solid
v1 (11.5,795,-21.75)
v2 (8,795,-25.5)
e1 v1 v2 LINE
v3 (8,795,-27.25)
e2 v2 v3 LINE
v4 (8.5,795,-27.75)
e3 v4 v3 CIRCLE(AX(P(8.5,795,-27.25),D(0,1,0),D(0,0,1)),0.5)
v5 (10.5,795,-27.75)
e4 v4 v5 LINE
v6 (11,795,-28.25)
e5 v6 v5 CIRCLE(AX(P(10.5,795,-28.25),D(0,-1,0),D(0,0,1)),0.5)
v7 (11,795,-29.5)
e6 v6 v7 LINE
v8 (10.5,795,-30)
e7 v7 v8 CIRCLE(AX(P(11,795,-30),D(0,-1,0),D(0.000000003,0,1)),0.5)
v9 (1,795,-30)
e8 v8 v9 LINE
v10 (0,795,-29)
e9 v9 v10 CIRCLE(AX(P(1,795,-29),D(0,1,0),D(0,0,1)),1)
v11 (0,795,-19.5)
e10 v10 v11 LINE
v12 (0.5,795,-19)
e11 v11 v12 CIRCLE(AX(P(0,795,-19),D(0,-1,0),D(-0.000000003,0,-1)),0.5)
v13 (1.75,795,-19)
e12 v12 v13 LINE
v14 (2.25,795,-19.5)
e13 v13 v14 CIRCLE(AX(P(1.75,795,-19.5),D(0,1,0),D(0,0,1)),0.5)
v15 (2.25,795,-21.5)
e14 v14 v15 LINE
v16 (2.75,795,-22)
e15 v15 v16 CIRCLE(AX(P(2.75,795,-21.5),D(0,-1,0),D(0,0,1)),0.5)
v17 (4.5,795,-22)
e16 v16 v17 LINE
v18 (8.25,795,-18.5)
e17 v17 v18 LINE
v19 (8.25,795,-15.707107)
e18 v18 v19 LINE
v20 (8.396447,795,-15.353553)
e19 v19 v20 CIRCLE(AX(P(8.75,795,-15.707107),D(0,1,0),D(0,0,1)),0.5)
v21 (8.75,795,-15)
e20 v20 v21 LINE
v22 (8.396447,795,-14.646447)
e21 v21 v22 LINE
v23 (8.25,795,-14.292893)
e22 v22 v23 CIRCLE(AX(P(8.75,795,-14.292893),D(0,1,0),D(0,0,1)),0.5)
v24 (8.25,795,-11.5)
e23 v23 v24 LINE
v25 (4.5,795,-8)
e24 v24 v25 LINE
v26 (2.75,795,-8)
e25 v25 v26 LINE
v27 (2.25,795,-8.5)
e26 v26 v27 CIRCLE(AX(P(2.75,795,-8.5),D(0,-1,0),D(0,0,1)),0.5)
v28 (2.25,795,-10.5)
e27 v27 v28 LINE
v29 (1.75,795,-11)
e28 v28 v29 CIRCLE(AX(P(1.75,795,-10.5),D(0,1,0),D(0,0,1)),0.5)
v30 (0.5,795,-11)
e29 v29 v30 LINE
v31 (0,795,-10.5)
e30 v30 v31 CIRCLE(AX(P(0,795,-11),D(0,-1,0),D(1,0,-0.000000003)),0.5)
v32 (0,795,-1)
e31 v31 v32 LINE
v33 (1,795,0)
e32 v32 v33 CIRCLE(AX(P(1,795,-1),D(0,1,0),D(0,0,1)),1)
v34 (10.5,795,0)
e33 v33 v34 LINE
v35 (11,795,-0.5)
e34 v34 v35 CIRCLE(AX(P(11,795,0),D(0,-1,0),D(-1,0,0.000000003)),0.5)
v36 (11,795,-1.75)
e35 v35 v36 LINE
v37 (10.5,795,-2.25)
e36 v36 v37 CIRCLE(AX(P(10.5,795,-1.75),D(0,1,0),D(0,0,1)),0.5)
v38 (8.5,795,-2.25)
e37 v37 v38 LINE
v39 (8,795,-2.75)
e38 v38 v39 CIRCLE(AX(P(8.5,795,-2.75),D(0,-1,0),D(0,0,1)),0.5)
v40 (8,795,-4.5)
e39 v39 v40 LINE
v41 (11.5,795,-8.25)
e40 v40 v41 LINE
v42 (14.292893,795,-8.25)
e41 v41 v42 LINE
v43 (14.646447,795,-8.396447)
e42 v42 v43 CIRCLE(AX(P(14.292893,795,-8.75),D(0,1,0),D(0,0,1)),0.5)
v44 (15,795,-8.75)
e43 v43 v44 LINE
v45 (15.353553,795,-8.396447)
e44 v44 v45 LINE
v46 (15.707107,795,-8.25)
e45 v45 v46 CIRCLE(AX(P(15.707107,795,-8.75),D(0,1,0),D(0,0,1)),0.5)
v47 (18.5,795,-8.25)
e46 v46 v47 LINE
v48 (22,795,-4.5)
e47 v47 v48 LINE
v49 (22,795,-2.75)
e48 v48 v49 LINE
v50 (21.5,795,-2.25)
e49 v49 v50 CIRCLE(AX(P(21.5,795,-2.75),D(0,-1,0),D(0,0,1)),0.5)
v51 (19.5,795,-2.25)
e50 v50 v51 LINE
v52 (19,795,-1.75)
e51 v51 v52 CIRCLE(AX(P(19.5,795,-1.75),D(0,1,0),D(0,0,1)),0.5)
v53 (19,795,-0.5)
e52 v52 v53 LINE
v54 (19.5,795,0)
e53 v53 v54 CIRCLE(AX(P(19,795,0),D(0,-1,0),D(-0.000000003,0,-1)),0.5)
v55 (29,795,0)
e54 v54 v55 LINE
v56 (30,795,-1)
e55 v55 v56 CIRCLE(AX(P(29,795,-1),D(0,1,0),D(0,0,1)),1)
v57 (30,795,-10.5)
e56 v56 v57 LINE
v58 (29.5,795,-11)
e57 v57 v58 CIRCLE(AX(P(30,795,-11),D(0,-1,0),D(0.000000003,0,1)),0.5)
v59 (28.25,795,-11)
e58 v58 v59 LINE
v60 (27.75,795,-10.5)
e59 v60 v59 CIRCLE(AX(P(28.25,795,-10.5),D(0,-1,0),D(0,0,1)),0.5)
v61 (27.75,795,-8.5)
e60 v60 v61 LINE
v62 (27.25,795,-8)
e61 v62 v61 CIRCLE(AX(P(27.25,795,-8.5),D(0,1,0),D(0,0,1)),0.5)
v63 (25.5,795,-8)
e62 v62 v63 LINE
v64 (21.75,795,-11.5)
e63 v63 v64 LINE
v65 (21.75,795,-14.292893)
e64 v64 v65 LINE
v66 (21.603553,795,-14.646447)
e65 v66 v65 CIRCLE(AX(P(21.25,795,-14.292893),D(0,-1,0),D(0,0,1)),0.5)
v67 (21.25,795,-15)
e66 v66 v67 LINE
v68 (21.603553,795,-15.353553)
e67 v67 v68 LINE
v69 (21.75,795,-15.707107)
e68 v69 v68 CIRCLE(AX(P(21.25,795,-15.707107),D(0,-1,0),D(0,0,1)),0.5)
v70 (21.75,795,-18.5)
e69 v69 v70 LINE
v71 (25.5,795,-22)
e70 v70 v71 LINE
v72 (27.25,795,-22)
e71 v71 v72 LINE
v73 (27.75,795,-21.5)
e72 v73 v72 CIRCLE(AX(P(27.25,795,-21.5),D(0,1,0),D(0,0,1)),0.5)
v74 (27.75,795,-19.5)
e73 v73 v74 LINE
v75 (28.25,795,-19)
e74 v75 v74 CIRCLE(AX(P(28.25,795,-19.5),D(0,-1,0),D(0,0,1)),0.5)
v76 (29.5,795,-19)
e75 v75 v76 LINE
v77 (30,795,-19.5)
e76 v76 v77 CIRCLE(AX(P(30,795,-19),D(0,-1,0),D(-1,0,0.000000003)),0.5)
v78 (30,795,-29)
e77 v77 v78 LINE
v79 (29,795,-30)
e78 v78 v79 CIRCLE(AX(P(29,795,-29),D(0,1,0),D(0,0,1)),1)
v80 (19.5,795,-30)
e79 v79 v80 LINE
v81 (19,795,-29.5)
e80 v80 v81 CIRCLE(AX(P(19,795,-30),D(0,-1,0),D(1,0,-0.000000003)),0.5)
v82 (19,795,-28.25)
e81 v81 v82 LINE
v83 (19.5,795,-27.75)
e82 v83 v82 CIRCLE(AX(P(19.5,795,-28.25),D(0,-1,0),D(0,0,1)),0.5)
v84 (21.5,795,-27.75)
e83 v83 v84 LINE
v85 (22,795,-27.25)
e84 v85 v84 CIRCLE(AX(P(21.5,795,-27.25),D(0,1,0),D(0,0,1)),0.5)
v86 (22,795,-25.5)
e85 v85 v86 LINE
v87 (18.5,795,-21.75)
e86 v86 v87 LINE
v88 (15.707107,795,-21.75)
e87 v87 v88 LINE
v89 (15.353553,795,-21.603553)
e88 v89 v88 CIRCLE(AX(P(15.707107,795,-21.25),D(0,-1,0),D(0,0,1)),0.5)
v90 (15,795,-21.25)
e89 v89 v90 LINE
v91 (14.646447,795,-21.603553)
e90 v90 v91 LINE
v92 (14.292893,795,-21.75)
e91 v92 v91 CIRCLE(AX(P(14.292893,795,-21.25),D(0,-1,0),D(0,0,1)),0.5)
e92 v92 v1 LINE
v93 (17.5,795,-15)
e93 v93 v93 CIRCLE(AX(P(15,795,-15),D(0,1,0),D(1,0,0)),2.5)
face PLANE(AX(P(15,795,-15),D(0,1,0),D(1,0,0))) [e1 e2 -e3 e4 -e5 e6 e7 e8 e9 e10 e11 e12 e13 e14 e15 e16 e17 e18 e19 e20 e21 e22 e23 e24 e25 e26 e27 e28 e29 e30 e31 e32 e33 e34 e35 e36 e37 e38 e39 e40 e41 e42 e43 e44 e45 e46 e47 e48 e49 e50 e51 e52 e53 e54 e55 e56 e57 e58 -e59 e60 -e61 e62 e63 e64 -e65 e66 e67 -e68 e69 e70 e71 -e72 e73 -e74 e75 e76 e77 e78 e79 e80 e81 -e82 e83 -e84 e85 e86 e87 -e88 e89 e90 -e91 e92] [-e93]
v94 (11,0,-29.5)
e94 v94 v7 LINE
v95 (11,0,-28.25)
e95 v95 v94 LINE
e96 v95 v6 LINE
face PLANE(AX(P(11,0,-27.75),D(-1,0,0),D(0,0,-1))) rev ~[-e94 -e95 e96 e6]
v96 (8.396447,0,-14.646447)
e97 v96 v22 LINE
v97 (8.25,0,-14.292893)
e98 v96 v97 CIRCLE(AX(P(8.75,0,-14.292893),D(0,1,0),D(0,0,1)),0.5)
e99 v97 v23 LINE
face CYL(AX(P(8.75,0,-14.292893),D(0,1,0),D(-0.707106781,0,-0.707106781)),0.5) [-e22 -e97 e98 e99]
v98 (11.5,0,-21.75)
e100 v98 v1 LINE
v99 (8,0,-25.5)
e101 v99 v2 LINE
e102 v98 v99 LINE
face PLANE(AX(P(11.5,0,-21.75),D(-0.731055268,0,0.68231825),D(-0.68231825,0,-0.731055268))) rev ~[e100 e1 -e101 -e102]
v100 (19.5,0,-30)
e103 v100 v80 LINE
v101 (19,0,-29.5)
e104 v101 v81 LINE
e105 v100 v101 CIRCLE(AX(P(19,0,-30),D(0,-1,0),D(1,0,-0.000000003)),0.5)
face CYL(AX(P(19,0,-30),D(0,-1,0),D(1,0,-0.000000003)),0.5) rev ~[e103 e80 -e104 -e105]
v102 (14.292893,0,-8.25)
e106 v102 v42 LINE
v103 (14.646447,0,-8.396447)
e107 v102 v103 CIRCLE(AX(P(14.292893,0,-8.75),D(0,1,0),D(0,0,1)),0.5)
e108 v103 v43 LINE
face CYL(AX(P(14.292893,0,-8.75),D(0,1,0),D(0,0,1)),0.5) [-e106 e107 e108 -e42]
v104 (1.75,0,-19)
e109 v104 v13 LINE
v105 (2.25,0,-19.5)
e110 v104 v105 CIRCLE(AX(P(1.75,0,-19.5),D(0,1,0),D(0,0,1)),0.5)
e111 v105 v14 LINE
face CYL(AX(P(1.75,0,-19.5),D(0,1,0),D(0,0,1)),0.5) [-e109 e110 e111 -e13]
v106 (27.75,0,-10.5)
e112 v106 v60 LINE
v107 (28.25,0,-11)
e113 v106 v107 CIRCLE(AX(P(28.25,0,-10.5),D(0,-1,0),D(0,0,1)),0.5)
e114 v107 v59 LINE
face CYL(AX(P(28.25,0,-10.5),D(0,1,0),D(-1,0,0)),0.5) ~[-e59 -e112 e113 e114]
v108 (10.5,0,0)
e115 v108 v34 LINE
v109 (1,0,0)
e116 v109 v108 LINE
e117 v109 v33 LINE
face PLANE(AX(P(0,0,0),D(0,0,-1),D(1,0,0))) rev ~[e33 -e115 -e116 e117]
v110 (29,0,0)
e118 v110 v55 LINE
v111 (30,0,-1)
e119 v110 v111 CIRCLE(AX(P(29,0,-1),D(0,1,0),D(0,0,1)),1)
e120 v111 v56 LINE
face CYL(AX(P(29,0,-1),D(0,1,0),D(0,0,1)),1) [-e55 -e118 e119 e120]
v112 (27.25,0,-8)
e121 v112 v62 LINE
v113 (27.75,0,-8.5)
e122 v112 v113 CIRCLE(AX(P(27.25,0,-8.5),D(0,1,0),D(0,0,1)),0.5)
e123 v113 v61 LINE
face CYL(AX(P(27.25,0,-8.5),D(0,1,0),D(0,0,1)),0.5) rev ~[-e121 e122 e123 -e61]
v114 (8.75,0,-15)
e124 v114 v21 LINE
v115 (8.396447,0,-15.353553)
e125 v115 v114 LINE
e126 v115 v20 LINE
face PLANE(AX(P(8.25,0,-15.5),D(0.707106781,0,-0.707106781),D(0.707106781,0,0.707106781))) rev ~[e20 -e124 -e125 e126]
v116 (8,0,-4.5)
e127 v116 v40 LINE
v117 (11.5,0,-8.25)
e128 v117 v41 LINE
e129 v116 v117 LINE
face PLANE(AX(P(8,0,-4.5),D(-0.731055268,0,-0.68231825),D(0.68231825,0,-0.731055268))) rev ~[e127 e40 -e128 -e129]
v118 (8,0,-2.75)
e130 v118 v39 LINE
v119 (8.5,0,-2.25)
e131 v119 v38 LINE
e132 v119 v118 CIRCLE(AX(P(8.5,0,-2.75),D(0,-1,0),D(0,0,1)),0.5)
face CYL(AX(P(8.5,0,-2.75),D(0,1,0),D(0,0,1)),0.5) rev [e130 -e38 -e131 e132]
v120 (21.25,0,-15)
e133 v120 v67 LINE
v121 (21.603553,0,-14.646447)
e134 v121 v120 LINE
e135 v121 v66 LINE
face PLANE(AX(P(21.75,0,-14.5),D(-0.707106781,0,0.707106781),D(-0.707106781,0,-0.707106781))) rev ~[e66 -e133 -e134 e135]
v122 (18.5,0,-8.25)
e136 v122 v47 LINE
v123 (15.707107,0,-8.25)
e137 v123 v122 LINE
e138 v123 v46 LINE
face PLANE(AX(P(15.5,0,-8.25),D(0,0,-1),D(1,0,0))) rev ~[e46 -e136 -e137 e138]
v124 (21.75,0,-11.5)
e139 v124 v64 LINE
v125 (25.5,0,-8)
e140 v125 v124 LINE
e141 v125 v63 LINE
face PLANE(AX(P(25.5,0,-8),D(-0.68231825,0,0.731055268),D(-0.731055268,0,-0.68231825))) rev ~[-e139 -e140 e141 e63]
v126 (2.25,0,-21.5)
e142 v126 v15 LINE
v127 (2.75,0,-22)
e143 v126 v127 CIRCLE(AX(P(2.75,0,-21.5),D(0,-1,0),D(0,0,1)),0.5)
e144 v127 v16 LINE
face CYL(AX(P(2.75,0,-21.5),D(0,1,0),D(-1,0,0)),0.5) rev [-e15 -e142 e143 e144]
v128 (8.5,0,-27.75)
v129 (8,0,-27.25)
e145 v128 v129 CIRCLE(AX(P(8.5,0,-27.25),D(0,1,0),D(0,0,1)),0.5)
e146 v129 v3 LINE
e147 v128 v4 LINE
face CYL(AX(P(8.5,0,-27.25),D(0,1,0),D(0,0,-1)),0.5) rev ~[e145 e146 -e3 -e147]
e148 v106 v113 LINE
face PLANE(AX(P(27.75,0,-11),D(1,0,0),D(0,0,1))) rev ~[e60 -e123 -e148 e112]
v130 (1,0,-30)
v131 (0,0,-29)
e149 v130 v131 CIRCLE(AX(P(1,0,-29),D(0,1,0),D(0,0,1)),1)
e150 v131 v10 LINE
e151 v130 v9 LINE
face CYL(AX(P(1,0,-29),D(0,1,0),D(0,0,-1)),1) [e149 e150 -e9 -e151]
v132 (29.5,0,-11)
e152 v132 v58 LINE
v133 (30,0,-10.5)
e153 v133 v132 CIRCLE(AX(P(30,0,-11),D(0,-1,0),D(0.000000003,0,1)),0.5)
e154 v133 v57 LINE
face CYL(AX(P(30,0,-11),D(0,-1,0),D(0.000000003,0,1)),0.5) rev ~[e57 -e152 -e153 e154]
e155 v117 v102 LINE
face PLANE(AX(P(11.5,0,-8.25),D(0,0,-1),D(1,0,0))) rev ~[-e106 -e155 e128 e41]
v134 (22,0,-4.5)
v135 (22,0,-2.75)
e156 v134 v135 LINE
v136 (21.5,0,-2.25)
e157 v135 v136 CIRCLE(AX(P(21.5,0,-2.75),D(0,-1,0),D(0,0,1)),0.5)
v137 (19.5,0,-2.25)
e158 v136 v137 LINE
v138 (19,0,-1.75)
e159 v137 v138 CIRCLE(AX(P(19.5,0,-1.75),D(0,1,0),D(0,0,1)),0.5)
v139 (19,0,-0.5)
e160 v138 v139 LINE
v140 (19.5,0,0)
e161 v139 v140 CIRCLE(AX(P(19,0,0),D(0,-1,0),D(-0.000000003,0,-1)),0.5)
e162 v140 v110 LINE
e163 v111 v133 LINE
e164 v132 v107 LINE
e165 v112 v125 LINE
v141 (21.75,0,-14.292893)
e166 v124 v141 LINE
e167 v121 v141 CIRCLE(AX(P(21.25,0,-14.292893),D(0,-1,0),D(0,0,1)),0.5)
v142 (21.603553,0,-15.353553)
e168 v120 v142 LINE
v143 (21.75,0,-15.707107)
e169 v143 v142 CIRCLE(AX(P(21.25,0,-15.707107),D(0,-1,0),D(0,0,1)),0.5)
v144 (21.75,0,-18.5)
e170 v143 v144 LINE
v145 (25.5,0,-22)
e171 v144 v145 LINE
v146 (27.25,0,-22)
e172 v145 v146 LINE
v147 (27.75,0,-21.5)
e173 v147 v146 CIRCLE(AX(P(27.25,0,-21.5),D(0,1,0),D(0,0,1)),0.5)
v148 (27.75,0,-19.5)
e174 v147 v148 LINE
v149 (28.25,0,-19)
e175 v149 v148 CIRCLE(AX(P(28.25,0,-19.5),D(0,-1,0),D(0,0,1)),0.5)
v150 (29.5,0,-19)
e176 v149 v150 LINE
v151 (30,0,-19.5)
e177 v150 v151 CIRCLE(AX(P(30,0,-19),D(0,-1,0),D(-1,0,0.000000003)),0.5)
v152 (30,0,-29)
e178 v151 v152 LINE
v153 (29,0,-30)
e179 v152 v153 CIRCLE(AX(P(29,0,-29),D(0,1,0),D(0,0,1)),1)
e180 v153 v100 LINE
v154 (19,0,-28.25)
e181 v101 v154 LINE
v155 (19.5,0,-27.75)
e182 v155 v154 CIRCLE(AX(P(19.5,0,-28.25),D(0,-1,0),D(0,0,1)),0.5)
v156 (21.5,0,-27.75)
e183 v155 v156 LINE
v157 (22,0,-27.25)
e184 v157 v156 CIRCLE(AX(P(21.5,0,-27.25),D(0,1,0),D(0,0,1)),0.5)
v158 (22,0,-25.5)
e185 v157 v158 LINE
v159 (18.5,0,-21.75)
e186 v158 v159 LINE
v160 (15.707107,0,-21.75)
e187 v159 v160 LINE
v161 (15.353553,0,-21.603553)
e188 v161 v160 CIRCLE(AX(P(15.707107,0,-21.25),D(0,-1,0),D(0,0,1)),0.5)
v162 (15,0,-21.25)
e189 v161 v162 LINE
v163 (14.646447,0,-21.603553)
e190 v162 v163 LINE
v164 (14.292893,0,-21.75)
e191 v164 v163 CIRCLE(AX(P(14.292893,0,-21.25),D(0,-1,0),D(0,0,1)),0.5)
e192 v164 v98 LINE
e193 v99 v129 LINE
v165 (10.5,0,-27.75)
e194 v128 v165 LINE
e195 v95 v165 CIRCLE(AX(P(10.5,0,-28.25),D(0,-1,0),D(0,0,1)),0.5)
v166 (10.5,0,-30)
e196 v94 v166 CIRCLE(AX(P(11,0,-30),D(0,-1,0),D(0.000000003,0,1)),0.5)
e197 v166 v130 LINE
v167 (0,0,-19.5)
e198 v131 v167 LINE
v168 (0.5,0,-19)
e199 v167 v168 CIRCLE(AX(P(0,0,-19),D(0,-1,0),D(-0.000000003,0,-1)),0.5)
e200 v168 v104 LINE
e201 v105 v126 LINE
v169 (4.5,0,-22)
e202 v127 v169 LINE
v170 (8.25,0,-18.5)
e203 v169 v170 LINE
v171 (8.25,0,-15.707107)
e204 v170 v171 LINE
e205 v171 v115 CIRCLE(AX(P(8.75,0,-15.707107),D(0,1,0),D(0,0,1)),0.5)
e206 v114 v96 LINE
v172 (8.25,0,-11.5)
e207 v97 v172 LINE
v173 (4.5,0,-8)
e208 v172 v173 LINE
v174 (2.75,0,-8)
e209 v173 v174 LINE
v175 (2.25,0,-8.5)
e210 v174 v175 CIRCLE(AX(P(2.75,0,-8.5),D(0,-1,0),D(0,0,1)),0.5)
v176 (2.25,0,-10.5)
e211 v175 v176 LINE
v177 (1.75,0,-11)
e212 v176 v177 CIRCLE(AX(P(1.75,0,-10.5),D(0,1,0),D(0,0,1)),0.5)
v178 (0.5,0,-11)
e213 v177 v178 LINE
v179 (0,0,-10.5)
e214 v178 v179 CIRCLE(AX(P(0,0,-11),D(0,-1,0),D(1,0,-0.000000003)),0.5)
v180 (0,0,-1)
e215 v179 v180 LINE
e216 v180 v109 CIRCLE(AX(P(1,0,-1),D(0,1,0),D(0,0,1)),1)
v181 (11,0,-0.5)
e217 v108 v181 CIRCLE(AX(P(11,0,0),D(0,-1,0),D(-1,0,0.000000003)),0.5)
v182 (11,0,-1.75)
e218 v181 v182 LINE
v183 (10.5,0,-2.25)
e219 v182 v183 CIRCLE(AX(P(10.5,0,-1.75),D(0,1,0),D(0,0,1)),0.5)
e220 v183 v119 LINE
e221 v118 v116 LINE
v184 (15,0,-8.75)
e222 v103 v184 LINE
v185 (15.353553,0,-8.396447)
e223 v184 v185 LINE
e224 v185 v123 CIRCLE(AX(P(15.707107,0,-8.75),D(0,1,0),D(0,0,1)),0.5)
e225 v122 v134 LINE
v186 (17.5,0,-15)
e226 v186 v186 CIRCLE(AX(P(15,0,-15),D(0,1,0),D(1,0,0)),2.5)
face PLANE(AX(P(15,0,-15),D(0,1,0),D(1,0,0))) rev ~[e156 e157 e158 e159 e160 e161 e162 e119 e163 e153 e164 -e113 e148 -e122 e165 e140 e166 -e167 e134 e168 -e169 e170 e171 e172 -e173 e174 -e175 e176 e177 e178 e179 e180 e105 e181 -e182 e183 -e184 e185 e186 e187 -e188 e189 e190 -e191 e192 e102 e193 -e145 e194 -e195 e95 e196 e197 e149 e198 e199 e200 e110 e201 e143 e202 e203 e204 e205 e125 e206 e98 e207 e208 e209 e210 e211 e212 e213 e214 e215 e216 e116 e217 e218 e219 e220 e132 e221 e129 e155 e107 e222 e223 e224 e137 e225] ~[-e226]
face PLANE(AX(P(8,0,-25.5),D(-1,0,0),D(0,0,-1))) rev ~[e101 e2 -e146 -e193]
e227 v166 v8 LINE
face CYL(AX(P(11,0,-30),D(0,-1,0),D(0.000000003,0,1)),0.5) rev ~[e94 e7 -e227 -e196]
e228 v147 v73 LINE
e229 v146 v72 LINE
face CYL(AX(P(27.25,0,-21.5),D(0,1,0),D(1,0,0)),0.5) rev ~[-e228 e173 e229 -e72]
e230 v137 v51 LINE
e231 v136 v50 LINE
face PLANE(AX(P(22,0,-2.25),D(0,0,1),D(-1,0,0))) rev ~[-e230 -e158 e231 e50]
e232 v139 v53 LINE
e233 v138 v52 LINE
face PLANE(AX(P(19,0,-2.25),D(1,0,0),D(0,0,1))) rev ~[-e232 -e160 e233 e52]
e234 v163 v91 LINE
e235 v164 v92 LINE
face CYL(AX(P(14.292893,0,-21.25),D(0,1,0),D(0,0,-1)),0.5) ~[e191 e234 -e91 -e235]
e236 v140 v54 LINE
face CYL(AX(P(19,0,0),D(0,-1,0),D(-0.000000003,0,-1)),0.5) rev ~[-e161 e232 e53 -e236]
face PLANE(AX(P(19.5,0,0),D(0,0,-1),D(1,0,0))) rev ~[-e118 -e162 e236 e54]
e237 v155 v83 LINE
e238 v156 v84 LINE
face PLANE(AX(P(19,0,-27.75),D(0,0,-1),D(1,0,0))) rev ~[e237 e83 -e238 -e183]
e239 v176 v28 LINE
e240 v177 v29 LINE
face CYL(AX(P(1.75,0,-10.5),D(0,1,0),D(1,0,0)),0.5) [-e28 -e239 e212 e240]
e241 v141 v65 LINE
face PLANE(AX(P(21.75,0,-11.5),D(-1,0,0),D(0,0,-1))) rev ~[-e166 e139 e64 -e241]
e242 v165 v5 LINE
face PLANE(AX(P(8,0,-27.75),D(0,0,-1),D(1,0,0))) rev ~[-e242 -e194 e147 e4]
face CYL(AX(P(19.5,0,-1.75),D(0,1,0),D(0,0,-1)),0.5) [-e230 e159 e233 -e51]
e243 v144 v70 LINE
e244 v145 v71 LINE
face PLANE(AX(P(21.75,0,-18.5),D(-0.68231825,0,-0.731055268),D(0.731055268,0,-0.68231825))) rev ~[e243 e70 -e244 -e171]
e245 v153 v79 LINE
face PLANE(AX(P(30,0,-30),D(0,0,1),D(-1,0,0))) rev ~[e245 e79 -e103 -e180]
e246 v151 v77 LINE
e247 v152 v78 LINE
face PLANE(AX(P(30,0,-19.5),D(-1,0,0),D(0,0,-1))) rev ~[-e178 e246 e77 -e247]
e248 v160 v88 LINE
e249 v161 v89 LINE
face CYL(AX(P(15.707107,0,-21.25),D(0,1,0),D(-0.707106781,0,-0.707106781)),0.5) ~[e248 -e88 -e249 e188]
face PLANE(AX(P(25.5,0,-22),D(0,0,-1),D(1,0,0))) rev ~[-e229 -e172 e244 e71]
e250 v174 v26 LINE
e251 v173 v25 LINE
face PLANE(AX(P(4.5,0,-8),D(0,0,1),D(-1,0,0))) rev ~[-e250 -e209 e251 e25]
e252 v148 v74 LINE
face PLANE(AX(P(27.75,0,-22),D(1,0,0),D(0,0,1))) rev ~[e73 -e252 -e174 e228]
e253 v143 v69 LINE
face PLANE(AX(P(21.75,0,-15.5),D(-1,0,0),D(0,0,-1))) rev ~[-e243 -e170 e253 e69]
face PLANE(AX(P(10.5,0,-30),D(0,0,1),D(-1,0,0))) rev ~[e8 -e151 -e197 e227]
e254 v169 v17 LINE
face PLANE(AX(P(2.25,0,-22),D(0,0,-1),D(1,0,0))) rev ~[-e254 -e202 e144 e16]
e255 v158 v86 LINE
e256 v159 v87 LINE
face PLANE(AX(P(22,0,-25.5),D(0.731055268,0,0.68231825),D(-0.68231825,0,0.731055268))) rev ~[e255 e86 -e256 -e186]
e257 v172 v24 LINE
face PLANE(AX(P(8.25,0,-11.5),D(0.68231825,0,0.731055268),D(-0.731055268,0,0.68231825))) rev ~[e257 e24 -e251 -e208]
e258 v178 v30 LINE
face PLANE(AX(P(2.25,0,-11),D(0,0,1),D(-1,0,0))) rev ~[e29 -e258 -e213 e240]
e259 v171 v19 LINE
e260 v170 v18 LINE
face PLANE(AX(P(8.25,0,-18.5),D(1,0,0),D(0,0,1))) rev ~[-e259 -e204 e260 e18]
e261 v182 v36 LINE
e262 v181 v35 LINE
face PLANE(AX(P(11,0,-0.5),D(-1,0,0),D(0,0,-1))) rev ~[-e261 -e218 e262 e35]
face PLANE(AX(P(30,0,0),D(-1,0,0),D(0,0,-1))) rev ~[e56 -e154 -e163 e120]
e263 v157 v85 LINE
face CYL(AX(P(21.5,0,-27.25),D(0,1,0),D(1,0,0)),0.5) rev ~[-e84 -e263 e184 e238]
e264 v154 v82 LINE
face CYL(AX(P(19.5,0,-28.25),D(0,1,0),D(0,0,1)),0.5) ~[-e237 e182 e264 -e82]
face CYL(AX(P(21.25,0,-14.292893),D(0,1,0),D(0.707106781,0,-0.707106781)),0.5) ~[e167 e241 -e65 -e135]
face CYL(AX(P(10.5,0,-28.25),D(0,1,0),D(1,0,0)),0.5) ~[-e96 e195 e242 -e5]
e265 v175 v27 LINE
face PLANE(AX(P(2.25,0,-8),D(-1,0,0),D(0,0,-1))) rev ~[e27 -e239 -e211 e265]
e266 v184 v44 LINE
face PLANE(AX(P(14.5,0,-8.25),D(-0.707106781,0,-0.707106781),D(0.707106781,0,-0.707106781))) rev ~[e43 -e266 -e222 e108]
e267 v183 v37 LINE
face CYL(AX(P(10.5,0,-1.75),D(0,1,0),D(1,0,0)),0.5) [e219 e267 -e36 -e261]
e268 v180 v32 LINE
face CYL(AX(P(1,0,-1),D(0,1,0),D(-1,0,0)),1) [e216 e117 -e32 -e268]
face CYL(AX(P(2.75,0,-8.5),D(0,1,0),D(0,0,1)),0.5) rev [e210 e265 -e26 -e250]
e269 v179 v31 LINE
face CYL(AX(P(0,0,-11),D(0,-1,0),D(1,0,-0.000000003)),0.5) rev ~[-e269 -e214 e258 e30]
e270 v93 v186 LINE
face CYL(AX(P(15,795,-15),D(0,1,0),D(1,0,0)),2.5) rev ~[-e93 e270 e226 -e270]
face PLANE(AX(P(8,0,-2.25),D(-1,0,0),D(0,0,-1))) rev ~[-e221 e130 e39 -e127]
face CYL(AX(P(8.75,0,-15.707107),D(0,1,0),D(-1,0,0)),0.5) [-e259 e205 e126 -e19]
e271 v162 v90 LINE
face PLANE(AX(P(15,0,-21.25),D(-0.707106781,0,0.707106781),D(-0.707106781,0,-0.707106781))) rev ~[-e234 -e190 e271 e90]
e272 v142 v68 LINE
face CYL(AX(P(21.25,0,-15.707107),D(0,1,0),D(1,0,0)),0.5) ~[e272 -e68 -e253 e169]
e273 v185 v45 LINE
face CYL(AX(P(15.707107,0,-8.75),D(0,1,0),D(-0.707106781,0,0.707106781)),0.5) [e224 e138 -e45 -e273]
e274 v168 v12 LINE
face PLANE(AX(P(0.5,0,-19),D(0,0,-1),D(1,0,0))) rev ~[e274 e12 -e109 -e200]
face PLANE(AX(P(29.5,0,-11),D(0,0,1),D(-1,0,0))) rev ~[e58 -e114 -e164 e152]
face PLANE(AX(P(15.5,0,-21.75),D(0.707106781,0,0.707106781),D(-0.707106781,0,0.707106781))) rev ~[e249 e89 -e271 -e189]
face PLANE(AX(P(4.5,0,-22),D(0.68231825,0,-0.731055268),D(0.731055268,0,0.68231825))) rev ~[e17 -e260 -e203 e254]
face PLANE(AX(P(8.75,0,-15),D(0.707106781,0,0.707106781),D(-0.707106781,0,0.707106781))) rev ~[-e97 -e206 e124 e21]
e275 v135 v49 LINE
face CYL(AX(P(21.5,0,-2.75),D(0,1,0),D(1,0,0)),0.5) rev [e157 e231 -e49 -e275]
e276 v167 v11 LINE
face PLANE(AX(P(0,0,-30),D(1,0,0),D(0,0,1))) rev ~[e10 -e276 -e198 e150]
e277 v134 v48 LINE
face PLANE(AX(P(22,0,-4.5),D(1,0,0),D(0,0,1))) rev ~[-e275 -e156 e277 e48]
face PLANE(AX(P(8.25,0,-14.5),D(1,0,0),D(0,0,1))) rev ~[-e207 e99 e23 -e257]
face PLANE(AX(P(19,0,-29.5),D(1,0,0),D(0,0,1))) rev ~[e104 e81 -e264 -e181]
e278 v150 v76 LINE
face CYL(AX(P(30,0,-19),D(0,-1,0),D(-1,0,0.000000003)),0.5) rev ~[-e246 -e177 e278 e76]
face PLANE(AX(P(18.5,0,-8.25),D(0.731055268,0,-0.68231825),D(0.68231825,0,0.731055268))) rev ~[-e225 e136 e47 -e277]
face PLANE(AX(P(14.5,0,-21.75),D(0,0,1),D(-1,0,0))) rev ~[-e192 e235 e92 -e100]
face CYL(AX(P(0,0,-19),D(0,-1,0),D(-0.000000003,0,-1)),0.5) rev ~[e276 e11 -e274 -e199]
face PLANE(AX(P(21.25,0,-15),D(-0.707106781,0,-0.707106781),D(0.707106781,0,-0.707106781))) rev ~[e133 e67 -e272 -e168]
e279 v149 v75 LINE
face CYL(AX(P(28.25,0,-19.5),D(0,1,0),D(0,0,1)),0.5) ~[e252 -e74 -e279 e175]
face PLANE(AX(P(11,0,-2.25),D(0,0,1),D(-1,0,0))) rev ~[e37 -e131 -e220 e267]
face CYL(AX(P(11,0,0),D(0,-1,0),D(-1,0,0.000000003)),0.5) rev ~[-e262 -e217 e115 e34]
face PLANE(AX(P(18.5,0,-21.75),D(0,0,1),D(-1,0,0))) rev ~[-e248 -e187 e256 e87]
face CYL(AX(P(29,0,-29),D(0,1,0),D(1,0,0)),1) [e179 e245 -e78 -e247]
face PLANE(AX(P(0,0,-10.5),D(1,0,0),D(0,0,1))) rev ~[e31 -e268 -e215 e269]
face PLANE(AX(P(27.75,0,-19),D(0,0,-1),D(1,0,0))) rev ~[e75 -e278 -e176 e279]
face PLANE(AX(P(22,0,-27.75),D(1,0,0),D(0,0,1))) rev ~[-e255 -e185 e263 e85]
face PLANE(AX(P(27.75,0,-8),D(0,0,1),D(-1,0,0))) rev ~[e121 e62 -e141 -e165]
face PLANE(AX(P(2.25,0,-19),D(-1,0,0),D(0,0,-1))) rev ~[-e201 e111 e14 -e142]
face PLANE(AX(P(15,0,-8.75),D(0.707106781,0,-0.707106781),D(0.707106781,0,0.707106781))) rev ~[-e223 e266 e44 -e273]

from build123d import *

# Parameters (mm, degrees)
BOSS_EXTRUDE1_DEPTH = 795
FILLET1_R           = 1
SKETCH4_R           = 2.5
CUT_EXTRUDE1_DEPTH  = 796
FILLET2_R           = 0.5


with BuildPart() as part:
    # Sketch3 → Boss-Extrude1 (new body)
    with BuildSketch(Plane(origin=(0, 0, 0), x_dir=(1, 0, 0), z_dir=(0, 1, 0))):
        with BuildLine():
            Line((11, 27.75), (11, 29.5))
            ThreePointArc((11, 29.5), (10.646446609, 29.646446609), (10.5, 30))
            Line((10.5, 30), (0, 30))
            Line((0, 30), (0, 19.5))
            ThreePointArc((0, 19.5), (0.353553391, 19.353553391), (0.5, 19))
            Line((0.5, 19), (2.25, 19))
            Line((2.25, 19), (2.25, 22))
            Line((2.25, 22), (4.5, 22))
            Line((4.5, 22), (8.25, 18.5))
            Line((8.25, 18.5), (8.25, 15.5))
            Line((8.25, 15.5), (8.75, 15))
            Line((8.75, 15), (8.25, 14.5))
            Line((8.25, 14.5), (8.25, 11.5))
            Line((8.25, 11.5), (4.5, 8))
            Line((4.5, 8), (2.25, 8))
            Line((2.25, 8), (2.25, 11))
            Line((2.25, 11), (0.5, 11))
            ThreePointArc((0.5, 11), (0.353553391, 10.646446609), (0, 10.5))
            Line((0, 10.5), (0, 0))
            Line((0, 0), (10.5, 0))
            ThreePointArc((10.5, 0), (10.646446609, 0.353553391), (11, 0.5))
            Line((11, 0.5), (11, 2.25))
            Line((11, 2.25), (8, 2.25))
            Line((8, 2.25), (8, 4.5))
            Line((8, 4.5), (11.5, 8.25))
            Line((11.5, 8.25), (14.5, 8.25))
            Line((14.5, 8.25), (15, 8.75))
            Line((15, 8.75), (15.5, 8.25))
            Line((15.5, 8.25), (18.5, 8.25))
            Line((18.5, 8.25), (22, 4.5))
            Line((22, 4.5), (22, 2.25))
            Line((22, 2.25), (19, 2.25))
            Line((19, 2.25), (19, 0.5))
            ThreePointArc((19, 0.5), (19.353553391, 0.353553391), (19.5, 0))
            Line((19.5, 0), (30, 0))
            Line((30, 0), (30, 10.5))
            ThreePointArc((30, 10.5), (29.646446609, 10.646446609), (29.5, 11))
            Line((29.5, 11), (27.75, 11))
            Line((27.75, 11), (27.75, 8))
            Line((27.75, 8), (25.5, 8))
            Line((25.5, 8), (21.75, 11.5))
            Line((21.75, 11.5), (21.75, 14.5))
            Line((21.75, 14.5), (21.25, 15))
            Line((21.25, 15), (21.75, 15.5))
            Line((21.75, 15.5), (21.75, 18.5))
            Line((21.75, 18.5), (25.5, 22))
            Line((25.5, 22), (27.75, 22))
            Line((27.75, 22), (27.75, 19))
            Line((27.75, 19), (29.5, 19))
            ThreePointArc((29.5, 19), (29.646446609, 19.353553391), (30, 19.5))
            Line((30, 19.5), (30, 30))
            Line((30, 30), (19.5, 30))
            ThreePointArc((19.5, 30), (19.353553391, 29.646446609), (19, 29.5))
            Line((19, 29.5), (19, 27.75))
            Line((19, 27.75), (22, 27.75))
            Line((22, 27.75), (22, 25.5))
            Line((22, 25.5), (18.5, 21.75))
            Line((18.5, 21.75), (15.5, 21.75))
            Line((15.5, 21.75), (15, 21.25))
            Line((15, 21.25), (14.5, 21.75))
            Line((14.5, 21.75), (11.5, 21.75))
            Line((11.5, 21.75), (8, 25.5))
            Line((8, 25.5), (8, 27.75))
            Line((8, 27.75), (11, 27.75))
        make_face()
    extrude(amount=BOSS_EXTRUDE1_DEPTH)

    # Fillet1
    fillet1_edges = [part.edges().sort_by_distance(p)[0] for p in [
        (30, 397.5, 0),
        (0, 397.5, 0),
        (0, 397.5, -30),
        (30, 397.5, -30),
    ]]
    fillet(fillet1_edges, radius=FILLET1_R)

    # Sketch4 → Cut-Extrude1 (cut, through all)
    with BuildSketch(Plane(origin=(0, 795, 0), x_dir=(1, 0, 0), z_dir=(0, 1, 0))):
        with Locations((15, 15)):
            Circle(SKETCH4_R)
    extrude(amount=-CUT_EXTRUDE1_DEPTH, mode=Mode.SUBTRACT)

    # Fillet2
    fillet2_edges = [part.edges().sort_by_distance(p)[0] for p in [
        (27.75, 397.5, -19),
        (27.75, 397.5, -22),
        (21.75, 397.5, -15.5),
        (21.75, 397.5, -14.5),
        (27.75, 397.5, -8),
        (27.75, 397.5, -11),
        (19, 397.5, -2.25),
        (22, 397.5, -2.25),
        (15.5, 397.5, -8.25),
        (14.5, 397.5, -8.25),
        (8, 397.5, -2.25),
        (11, 397.5, -2.25),
        (2.25, 397.5, -11),
        (2.25, 397.5, -8),
        (8.25, 397.5, -14.5),
        (8.25, 397.5, -15.5),
        (2.25, 397.5, -22),
        (2.25, 397.5, -19),
        (11, 397.5, -27.75),
        (8, 397.5, -27.75),
        (14.5, 397.5, -21.75),
        (15.5, 397.5, -21.75),
        (22, 397.5, -27.75),
        (19, 397.5, -27.75),
    ]]
    fillet(fillet2_edges, radius=FILLET2_R)


solid = part.part
